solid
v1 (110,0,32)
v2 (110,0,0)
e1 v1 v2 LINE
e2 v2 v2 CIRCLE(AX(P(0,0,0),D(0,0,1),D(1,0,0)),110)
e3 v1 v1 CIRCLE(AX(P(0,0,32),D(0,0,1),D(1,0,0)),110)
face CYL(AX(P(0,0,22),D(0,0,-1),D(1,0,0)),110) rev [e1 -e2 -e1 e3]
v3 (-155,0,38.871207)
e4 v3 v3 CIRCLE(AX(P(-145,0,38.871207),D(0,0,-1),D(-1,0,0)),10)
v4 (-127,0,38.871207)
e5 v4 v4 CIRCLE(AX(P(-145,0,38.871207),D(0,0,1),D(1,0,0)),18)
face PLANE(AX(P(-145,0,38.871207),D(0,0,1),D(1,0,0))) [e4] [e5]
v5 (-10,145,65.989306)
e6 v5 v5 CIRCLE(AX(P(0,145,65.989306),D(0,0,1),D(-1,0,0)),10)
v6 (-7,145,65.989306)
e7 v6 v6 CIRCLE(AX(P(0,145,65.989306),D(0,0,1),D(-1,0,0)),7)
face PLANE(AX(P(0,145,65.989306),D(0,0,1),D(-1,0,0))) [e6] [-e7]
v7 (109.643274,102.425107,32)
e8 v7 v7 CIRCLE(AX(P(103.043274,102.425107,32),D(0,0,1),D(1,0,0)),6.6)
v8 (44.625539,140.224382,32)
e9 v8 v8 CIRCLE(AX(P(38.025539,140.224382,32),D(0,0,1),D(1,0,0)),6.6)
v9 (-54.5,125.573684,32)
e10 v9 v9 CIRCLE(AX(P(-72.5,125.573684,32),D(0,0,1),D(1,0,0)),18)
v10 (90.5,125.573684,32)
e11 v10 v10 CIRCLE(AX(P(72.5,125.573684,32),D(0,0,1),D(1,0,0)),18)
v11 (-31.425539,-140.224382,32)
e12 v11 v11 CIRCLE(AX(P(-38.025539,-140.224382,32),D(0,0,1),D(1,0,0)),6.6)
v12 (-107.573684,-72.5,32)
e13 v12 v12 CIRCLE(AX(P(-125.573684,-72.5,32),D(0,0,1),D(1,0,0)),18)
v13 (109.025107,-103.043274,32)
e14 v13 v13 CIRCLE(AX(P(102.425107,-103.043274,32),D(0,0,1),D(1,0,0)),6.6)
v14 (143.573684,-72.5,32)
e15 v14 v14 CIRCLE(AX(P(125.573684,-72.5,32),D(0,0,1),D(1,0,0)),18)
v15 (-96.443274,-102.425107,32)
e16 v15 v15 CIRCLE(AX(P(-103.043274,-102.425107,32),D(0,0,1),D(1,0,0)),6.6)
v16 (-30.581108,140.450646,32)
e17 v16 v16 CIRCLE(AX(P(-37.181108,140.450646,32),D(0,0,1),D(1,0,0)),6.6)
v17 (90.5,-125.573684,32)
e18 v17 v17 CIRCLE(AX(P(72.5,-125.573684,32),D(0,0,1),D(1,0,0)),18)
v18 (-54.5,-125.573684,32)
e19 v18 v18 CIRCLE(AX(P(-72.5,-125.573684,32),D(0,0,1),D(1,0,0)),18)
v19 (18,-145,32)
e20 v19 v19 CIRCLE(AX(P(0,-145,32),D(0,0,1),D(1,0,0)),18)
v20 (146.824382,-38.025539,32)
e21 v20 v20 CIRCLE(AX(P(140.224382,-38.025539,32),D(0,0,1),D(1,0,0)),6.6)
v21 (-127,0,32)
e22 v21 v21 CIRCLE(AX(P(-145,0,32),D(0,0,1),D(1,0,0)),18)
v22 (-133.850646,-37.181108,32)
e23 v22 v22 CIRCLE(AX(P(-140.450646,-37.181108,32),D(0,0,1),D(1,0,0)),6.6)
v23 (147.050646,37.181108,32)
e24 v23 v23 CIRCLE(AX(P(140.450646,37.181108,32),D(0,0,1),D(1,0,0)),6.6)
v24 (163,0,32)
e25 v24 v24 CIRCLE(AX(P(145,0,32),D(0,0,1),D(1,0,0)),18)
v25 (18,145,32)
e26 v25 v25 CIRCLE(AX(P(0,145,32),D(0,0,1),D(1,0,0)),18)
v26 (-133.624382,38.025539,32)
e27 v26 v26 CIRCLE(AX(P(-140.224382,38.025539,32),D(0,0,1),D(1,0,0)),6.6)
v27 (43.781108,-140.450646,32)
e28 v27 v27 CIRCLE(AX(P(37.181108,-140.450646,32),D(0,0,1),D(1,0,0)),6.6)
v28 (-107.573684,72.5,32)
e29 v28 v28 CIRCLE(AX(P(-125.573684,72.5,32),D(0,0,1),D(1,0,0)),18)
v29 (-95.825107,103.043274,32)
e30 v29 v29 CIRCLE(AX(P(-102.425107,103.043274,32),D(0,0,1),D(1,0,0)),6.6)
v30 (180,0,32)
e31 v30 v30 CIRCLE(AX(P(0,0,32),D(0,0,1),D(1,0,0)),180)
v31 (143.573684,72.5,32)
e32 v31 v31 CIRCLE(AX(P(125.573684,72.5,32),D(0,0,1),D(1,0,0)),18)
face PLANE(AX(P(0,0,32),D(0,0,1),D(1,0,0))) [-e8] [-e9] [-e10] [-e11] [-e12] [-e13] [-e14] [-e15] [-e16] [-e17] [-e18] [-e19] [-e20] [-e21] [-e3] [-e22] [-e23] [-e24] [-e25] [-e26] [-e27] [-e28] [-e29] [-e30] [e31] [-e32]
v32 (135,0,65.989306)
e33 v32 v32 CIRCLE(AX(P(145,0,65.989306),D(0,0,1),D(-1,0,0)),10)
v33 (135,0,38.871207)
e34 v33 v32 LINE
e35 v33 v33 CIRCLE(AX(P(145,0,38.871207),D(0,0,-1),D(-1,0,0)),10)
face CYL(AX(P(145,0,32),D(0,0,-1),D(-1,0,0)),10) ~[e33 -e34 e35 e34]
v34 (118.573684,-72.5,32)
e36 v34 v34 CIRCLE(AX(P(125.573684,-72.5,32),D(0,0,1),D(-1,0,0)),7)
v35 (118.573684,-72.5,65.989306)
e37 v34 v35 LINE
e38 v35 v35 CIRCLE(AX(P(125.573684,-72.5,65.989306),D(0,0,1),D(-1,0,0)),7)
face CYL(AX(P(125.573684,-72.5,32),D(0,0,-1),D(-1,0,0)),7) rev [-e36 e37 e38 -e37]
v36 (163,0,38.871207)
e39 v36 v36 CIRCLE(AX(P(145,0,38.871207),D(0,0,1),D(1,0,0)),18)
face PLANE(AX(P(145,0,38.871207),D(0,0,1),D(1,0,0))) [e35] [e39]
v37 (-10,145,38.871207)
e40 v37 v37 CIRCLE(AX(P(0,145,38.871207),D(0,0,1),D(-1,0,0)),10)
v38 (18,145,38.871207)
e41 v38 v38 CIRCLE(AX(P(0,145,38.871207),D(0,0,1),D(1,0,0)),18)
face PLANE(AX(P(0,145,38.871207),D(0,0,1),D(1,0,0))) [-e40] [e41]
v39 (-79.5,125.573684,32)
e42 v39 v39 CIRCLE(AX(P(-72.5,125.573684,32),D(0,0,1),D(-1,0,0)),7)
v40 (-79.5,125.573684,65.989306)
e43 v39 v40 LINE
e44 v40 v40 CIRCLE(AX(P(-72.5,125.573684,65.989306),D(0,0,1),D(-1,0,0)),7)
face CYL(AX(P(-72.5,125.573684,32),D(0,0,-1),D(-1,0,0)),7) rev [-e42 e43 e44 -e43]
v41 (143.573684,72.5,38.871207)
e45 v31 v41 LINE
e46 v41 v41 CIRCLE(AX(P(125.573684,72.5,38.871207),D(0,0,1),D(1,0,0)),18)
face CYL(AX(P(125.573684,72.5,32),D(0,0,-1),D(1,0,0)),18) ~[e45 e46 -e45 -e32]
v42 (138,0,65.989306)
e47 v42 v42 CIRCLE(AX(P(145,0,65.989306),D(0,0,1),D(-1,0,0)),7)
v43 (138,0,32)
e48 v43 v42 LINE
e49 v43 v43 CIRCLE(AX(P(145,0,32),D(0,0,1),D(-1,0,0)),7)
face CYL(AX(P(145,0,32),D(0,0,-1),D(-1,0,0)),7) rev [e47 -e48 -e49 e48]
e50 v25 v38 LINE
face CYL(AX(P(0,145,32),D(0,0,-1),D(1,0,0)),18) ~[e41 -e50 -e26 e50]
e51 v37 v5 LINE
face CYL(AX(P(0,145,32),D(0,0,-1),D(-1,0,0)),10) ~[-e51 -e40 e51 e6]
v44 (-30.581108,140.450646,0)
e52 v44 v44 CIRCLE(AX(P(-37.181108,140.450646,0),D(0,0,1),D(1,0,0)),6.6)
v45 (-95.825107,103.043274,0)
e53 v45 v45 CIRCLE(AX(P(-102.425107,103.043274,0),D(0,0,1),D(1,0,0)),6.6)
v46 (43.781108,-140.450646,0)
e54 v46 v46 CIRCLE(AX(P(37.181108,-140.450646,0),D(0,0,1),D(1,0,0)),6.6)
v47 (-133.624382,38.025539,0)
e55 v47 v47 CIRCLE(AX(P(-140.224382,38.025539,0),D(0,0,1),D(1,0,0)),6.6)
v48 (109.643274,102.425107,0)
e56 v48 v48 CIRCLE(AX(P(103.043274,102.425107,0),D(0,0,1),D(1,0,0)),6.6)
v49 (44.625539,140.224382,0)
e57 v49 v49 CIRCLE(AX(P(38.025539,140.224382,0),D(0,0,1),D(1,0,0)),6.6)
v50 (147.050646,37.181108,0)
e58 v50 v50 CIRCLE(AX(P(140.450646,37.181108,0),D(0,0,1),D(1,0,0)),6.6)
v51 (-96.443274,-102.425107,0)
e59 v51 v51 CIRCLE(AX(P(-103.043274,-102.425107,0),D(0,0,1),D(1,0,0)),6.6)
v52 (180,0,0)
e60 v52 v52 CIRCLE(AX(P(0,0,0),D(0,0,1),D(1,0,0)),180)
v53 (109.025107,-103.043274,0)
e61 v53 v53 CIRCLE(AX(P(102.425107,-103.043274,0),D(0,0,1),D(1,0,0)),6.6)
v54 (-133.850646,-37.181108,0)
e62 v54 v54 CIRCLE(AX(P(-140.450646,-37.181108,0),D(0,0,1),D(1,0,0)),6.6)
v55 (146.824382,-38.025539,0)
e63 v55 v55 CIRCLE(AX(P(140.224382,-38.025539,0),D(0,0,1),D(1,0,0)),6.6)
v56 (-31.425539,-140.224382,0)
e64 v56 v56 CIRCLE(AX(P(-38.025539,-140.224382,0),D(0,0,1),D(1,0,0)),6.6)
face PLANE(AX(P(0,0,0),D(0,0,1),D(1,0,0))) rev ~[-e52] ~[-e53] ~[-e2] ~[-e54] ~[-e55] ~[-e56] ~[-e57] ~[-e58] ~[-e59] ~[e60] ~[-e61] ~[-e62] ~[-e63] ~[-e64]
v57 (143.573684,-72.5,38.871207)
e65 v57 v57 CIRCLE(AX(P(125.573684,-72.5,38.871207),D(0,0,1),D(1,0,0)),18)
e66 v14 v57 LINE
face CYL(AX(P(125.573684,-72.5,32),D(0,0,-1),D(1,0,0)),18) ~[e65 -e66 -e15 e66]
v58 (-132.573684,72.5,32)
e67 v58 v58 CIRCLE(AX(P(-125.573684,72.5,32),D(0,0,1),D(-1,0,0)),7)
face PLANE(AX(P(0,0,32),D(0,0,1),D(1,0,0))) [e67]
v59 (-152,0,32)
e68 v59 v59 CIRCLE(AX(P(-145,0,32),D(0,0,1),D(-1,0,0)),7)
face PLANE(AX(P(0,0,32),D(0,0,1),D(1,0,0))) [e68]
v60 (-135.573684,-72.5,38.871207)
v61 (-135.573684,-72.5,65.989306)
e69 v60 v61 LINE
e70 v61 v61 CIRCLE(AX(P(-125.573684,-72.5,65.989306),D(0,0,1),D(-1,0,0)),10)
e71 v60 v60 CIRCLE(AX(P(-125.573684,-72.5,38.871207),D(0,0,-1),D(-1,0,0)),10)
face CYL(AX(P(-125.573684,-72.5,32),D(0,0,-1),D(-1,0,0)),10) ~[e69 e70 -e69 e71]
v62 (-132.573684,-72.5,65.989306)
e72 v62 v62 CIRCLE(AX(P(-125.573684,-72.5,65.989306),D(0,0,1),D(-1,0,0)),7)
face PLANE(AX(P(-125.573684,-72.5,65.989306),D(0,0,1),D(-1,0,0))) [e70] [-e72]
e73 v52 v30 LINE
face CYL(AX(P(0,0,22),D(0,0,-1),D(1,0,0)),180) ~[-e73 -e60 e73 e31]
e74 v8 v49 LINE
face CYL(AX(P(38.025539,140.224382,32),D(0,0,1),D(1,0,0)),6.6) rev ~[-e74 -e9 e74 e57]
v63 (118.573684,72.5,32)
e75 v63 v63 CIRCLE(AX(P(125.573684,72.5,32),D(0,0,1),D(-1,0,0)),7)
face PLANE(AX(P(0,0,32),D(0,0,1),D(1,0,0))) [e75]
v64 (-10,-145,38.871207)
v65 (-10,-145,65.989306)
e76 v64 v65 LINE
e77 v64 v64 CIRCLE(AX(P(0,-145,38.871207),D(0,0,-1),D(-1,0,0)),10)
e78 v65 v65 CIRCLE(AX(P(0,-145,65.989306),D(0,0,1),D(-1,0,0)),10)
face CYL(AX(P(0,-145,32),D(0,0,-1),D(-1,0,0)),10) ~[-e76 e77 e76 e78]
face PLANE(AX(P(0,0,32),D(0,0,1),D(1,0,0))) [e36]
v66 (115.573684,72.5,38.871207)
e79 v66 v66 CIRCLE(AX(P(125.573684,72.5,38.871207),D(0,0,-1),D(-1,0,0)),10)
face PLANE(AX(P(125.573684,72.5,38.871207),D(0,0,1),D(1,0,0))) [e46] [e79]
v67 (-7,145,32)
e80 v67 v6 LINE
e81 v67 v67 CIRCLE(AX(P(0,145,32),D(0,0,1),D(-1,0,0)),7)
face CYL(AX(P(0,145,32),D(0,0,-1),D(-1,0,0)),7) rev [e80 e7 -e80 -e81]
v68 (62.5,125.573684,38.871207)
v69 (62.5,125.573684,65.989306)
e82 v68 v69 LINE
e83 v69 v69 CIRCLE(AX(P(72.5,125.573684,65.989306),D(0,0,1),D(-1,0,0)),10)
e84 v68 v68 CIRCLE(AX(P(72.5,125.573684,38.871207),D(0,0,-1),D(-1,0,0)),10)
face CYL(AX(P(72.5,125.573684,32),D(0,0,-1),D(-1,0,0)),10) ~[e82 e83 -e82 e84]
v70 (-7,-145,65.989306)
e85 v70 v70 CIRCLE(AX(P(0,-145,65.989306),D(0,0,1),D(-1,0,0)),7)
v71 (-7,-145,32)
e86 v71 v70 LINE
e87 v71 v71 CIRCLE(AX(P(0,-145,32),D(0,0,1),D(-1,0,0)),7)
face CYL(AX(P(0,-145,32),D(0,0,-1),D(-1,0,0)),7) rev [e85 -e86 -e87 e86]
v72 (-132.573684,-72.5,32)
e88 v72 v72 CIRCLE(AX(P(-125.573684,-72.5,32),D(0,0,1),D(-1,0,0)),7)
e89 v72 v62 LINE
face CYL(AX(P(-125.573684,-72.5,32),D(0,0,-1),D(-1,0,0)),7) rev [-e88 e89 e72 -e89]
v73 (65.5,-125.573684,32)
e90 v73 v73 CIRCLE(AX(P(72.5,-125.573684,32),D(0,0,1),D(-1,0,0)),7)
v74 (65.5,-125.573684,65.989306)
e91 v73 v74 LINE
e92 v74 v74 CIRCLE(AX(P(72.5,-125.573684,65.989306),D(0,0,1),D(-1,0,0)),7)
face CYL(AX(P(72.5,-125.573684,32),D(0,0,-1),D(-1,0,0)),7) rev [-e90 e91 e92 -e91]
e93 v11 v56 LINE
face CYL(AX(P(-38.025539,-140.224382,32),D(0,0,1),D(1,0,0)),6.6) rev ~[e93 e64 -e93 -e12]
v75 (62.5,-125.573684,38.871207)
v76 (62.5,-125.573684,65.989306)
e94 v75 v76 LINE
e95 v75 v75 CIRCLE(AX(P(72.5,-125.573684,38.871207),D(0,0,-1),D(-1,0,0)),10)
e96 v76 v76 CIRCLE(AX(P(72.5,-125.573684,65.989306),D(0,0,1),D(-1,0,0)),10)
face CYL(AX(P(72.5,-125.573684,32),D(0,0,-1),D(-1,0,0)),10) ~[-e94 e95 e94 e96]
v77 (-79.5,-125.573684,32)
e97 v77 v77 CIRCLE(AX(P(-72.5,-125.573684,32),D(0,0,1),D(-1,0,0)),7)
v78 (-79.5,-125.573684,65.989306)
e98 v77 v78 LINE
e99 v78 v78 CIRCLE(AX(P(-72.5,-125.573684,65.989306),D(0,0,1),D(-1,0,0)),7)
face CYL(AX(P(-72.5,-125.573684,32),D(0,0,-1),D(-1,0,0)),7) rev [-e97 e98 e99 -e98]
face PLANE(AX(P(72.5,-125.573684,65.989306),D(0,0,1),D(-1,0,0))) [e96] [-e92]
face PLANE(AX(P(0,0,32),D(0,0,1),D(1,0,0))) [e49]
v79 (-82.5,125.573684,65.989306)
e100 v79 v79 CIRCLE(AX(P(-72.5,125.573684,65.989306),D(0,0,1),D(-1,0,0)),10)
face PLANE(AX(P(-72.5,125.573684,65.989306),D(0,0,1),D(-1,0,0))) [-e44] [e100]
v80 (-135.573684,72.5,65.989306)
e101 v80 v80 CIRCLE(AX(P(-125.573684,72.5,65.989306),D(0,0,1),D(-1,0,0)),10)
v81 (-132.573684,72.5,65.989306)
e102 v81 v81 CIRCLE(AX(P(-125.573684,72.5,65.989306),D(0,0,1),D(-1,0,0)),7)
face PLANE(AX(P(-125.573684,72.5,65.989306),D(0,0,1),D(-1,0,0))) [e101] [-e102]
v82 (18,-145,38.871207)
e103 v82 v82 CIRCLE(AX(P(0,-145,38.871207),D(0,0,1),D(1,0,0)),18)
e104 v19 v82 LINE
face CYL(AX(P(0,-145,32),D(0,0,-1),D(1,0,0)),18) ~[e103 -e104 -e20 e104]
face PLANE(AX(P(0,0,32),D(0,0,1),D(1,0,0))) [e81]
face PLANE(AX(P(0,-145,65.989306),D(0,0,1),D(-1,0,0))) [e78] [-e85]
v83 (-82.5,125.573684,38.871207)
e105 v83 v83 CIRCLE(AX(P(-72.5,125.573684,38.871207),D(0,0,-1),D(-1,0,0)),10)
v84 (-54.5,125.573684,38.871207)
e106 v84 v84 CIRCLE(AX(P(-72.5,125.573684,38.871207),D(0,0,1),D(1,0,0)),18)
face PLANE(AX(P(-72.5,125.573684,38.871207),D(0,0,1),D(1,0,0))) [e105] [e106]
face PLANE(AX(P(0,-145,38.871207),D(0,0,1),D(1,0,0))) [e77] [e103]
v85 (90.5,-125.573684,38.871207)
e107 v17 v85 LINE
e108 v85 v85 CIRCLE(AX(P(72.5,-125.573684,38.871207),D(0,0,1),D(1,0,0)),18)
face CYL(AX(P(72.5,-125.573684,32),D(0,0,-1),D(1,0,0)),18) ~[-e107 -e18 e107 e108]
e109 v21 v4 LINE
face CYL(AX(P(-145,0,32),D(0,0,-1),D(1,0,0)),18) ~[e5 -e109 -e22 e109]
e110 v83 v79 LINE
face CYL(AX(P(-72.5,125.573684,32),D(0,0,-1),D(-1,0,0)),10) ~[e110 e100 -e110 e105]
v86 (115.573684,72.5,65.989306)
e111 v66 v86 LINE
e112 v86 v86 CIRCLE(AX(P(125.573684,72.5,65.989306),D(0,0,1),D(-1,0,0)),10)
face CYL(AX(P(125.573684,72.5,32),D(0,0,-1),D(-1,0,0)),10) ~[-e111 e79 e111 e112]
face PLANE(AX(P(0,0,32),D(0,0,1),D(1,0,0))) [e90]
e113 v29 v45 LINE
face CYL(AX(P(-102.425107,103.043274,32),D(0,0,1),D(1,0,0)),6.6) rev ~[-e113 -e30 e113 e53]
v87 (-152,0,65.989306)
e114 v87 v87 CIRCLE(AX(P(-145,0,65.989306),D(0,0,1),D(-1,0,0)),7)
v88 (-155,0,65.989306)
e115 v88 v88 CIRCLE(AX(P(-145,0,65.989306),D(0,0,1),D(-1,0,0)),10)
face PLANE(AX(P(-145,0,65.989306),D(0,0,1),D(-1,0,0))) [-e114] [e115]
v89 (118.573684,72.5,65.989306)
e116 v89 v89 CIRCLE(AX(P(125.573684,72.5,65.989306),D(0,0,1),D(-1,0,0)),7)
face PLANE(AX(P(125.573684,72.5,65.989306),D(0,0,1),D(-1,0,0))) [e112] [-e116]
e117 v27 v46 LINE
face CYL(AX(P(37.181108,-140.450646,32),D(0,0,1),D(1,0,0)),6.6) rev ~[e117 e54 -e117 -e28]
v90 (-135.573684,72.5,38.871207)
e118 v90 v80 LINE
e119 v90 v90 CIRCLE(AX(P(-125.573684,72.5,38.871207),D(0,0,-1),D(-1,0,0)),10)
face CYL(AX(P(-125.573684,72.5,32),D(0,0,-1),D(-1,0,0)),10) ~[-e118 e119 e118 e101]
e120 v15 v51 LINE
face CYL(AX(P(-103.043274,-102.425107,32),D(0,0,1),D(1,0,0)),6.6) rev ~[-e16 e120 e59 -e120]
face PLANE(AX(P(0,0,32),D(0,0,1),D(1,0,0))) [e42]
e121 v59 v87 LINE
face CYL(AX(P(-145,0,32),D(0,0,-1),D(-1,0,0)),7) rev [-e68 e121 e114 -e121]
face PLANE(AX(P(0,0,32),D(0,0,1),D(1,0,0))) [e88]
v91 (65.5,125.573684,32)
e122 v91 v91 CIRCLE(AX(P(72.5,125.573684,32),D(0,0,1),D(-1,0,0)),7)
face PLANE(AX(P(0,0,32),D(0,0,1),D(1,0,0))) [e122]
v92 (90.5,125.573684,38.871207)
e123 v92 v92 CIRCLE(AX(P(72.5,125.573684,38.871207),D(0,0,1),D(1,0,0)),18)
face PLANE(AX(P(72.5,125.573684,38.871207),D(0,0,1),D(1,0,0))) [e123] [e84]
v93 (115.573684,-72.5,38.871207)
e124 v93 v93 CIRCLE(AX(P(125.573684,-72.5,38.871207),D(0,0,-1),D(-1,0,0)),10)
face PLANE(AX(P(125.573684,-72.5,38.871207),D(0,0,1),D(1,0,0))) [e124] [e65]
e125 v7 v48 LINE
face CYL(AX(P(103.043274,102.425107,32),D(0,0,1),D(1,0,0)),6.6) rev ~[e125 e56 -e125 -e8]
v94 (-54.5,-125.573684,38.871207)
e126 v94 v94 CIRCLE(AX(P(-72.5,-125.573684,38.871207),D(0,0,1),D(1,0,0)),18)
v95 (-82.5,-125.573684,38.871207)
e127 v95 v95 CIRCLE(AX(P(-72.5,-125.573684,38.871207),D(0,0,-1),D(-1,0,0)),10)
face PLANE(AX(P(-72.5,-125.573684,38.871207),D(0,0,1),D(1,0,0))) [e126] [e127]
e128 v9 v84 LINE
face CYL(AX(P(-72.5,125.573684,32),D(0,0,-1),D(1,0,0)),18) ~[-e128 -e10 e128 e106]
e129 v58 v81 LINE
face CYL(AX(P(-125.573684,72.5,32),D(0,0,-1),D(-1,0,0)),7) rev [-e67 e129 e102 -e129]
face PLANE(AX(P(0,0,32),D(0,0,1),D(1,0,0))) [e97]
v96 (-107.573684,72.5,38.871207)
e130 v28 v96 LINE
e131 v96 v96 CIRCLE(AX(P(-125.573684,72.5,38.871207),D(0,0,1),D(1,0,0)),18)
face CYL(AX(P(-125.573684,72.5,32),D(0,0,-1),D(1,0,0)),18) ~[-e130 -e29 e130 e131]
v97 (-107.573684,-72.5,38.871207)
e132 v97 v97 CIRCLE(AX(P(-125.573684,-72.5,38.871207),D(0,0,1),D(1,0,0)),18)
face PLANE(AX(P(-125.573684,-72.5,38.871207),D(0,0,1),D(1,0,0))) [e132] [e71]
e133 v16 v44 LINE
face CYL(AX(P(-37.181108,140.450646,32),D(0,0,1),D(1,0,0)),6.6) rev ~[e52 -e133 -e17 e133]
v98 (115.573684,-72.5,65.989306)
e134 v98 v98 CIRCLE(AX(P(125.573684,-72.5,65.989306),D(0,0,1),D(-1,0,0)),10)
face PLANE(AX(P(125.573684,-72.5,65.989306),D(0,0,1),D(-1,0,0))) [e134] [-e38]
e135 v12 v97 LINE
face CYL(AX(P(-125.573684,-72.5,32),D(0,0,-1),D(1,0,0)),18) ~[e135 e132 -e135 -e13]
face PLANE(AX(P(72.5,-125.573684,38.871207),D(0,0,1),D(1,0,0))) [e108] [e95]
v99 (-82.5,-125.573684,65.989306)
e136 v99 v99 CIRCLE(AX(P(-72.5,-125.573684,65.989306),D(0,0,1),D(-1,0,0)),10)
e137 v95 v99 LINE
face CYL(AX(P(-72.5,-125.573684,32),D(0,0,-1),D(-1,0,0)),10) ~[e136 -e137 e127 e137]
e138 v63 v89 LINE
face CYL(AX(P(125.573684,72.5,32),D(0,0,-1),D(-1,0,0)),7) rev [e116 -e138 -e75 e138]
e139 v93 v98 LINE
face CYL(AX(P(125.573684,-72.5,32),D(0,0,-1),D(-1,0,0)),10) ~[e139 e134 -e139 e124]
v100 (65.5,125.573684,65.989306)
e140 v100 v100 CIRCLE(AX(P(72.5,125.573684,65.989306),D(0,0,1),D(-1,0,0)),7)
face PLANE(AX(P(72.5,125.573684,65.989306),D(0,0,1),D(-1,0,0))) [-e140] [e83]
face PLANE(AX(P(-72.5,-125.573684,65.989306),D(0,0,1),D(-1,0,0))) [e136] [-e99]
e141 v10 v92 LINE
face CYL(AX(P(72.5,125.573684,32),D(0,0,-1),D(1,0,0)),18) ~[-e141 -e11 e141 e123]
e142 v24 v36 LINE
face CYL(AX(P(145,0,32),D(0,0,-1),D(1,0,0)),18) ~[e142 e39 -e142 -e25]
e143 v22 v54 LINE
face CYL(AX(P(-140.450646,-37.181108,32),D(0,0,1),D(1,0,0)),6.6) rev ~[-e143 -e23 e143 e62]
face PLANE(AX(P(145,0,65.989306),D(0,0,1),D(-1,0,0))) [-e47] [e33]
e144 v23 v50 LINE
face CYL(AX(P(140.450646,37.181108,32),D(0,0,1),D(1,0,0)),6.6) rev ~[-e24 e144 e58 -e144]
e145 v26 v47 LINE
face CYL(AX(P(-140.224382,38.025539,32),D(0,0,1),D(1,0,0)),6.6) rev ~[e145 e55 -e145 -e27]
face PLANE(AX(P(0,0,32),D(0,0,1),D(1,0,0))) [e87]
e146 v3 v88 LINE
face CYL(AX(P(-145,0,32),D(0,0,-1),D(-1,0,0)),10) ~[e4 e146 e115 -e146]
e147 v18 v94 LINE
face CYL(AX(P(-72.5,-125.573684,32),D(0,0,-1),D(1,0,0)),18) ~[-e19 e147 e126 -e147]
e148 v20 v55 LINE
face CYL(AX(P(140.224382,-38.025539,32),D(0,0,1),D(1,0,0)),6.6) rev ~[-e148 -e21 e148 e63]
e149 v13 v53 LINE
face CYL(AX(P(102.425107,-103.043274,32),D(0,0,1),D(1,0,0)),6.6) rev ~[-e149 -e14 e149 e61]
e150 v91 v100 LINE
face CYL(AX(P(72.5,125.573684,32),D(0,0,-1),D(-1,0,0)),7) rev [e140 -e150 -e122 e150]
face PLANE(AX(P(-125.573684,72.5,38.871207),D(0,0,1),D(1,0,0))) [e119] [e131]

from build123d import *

# Parameters (mm, degrees)
SKETCH1_R            = 180
SKETCH1_R_2          = 110
BOTTOM_ANNULUS_DEPTH = 10
SKETCH3_R            = 180
SKETCH3_R_2          = 110
ANNULUS_PLENUM_DEPTH = 12
SKETCH4_R            = 180
SKETCH4_R_2          = 110
TOP_ANNULUS_DEPTH    = 10
SKETCH8_R            = 6.6
CUT_EXTRUDE1_DEPTH   = 75
SKETCH6_R            = 18
SKETCH6_R_2          = 10
BOSS_EXTRUDE6_DEPTH  = 6.871206759
SKETCH10_R           = 10
SKETCH10_R_2         = 7
BOSS_EXTRUDE7_DEPTH  = 33.989306272


with BuildPart() as part:
    # Sketch1 → Bottom Annulus (new body)
    with BuildSketch(Plane.XY):
        Circle(SKETCH1_R)
        Circle(SKETCH1_R_2, mode=Mode.SUBTRACT)
    extrude(amount=BOTTOM_ANNULUS_DEPTH)

    # Sketch3 → Annulus Plenum (add)
    with BuildSketch(Plane.XY.offset(10)):
        Circle(SKETCH3_R)
        Circle(SKETCH3_R_2, mode=Mode.SUBTRACT)
    extrude(amount=ANNULUS_PLENUM_DEPTH)

    # Sketch4 → Top annulus (add)
    with BuildSketch(Plane.XY.offset(22)):
        Circle(SKETCH4_R)
        Circle(SKETCH4_R_2, mode=Mode.SUBTRACT)
    extrude(amount=TOP_ANNULUS_DEPTH)

    # Sketch8 → Cut-Extrude1 (cut)
    with BuildSketch(Plane.XY.offset(32)):
        with Locations((-37.181108248, 140.450646422)):
            Circle(SKETCH8_R)
        with Locations((38.025538928, 140.224381904)):
            Circle(SKETCH8_R)
        with Locations((103.043273656, 102.425107495)):
            Circle(SKETCH8_R)
        with Locations((140.450646422, 37.181108248)):
            Circle(SKETCH8_R)
        with Locations((140.224381904, -38.025538928)):
            Circle(SKETCH8_R)
        with Locations((102.425107495, -103.043273656)):
            Circle(SKETCH8_R)
        with Locations((37.181108248, -140.450646422)):
            Circle(SKETCH8_R)
        with Locations((-38.025538928, -140.224381904)):
            Circle(SKETCH8_R)
        with Locations((-103.043273656, -102.425107495)):
            Circle(SKETCH8_R)
        with Locations((-140.450646422, -37.181108248)):
            Circle(SKETCH8_R)
        with Locations((-140.224381904, 38.025538928)):
            Circle(SKETCH8_R)
        with Locations((-102.425107495, 103.043273656)):
            Circle(SKETCH8_R)
    extrude(amount=-CUT_EXTRUDE1_DEPTH, mode=Mode.SUBTRACT)

    # Sketch6 → Boss-Extrude6 (add)
    # profile 1 of 12: a face of its own
    with BuildSketch(Plane.XY.offset(32)):
        with Locations((0, 145)):
            Circle(SKETCH6_R)
        with Locations((0, 145)):
            Circle(SKETCH6_R_2, mode=Mode.SUBTRACT)
    # profile 2 of 12: a face of its own
    with BuildSketch(Plane.XY.offset(32)):
        with Locations((72.5, 125.573683549)):
            Circle(SKETCH6_R)
        with Locations((72.5, 125.573683549)):
            Circle(SKETCH6_R_2, mode=Mode.SUBTRACT)
    # profile 3 of 12: a face of its own
    with BuildSketch(Plane.XY.offset(32)):
        with Locations((125.573683549, 72.5)):
            Circle(SKETCH6_R)
        with Locations((125.573683549, 72.5)):
            Circle(SKETCH6_R_2, mode=Mode.SUBTRACT)
    # profile 4 of 12: a face of its own
    with BuildSketch(Plane.XY.offset(32)):
        with Locations((145, 0)):
            Circle(SKETCH6_R)
        with Locations((145, 0)):
            Circle(SKETCH6_R_2, mode=Mode.SUBTRACT)
    # profile 5 of 12: a face of its own
    with BuildSketch(Plane.XY.offset(32)):
        with Locations((125.573683549, -72.5)):
            Circle(SKETCH6_R)
        with Locations((125.573683549, -72.5)):
            Circle(SKETCH6_R_2, mode=Mode.SUBTRACT)
    # profile 6 of 12: a face of its own
    with BuildSketch(Plane.XY.offset(32)):
        with Locations((72.5, -125.573683549)):
            Circle(SKETCH6_R)
        with Locations((72.5, -125.573683549)):
            Circle(SKETCH6_R_2, mode=Mode.SUBTRACT)
    # profile 7 of 12: a face of its own
    with BuildSketch(Plane.XY.offset(32)):
        with Locations((0, -145)):
            Circle(SKETCH6_R)
        with Locations((0, -145)):
            Circle(SKETCH6_R_2, mode=Mode.SUBTRACT)
    # profile 8 of 12: a face of its own
    with BuildSketch(Plane.XY.offset(32)):
        with Locations((-72.5, -125.573683549)):
            Circle(SKETCH6_R)
        with Locations((-72.5, -125.573683549)):
            Circle(SKETCH6_R_2, mode=Mode.SUBTRACT)
    # profile 9 of 12: a face of its own
    with BuildSketch(Plane.XY.offset(32)):
        with Locations((-125.573683549, -72.5)):
            Circle(SKETCH6_R)
        with Locations((-125.573683549, -72.5)):
            Circle(SKETCH6_R_2, mode=Mode.SUBTRACT)
    # profile 10 of 12: a face of its own
    with BuildSketch(Plane.XY.offset(32)):
        with Locations((-145, 0)):
            Circle(SKETCH6_R)
        with Locations((-145, 0)):
            Circle(SKETCH6_R_2, mode=Mode.SUBTRACT)
    # profile 11 of 12: a face of its own
    with BuildSketch(Plane.XY.offset(32)):
        with Locations((-125.573683549, 72.5)):
            Circle(SKETCH6_R)
        with Locations((-125.573683549, 72.5)):
            Circle(SKETCH6_R_2, mode=Mode.SUBTRACT)
    # profile 12 of 12: a face of its own
    with BuildSketch(Plane.XY.offset(32)):
        with Locations((-72.5, 125.573683549)):
            Circle(SKETCH6_R)
        with Locations((-72.5, 125.573683549)):
            Circle(SKETCH6_R_2, mode=Mode.SUBTRACT)
    extrude(amount=BOSS_EXTRUDE6_DEPTH)

    # Sketch10 → Boss-Extrude7 (add)
    # profile 1 of 12: a face of its own
    with BuildSketch(Plane.XY.offset(32)):
        with Locations((0, 145)):
            Circle(SKETCH10_R)
        with Locations((0, 145)):
            Circle(SKETCH10_R_2, mode=Mode.SUBTRACT)
    # profile 2 of 12: a face of its own
    with BuildSketch(Plane.XY.offset(32)):
        with Locations((72.5, 125.573683549)):
            Circle(SKETCH10_R)
        with Locations((72.5, 125.573683549)):
            Circle(SKETCH10_R_2, mode=Mode.SUBTRACT)
    # profile 3 of 12: a face of its own
    with BuildSketch(Plane.XY.offset(32)):
        with Locations((125.573683549, 72.5)):
            Circle(SKETCH10_R)
        with Locations((125.573683549, 72.5)):
            Circle(SKETCH10_R_2, mode=Mode.SUBTRACT)
    # profile 4 of 12: a face of its own
    with BuildSketch(Plane.XY.offset(32)):
        with Locations((145, 0)):
            Circle(SKETCH10_R)
        with Locations((145, 0)):
            Circle(SKETCH10_R_2, mode=Mode.SUBTRACT)
    # profile 5 of 12: a face of its own
    with BuildSketch(Plane.XY.offset(32)):
        with Locations((125.573683549, -72.5)):
            Circle(SKETCH10_R)
        with Locations((125.573683549, -72.5)):
            Circle(SKETCH10_R_2, mode=Mode.SUBTRACT)
    # profile 6 of 12: a face of its own
    with BuildSketch(Plane.XY.offset(32)):
        with Locations((72.5, -125.573683549)):
            Circle(SKETCH10_R)
        with Locations((72.5, -125.573683549)):
            Circle(SKETCH10_R_2, mode=Mode.SUBTRACT)
    # profile 7 of 12: a face of its own
    with BuildSketch(Plane.XY.offset(32)):
        with Locations((0, -145)):
            Circle(SKETCH10_R)
        with Locations((0, -145)):
            Circle(SKETCH10_R_2, mode=Mode.SUBTRACT)
    # profile 8 of 12: a face of its own
    with BuildSketch(Plane.XY.offset(32)):
        with Locations((-72.5, -125.573683549)):
            Circle(SKETCH10_R)
        with Locations((-72.5, -125.573683549)):
            Circle(SKETCH10_R_2, mode=Mode.SUBTRACT)
    # profile 9 of 12: a face of its own
    with BuildSketch(Plane.XY.offset(32)):
        with Locations((-125.573683549, -72.5)):
            Circle(SKETCH10_R)
        with Locations((-125.573683549, -72.5)):
            Circle(SKETCH10_R_2, mode=Mode.SUBTRACT)
    # profile 10 of 12: a face of its own
    with BuildSketch(Plane.XY.offset(32)):
        with Locations((-145, 0)):
            Circle(SKETCH10_R)
        with Locations((-145, 0)):
            Circle(SKETCH10_R_2, mode=Mode.SUBTRACT)
    # profile 11 of 12: a face of its own
    with BuildSketch(Plane.XY.offset(32)):
        with Locations((-125.573683549, 72.5)):
            Circle(SKETCH10_R)
        with Locations((-125.573683549, 72.5)):
            Circle(SKETCH10_R_2, mode=Mode.SUBTRACT)
    # profile 12 of 12: a face of its own
    with BuildSketch(Plane.XY.offset(32)):
        with Locations((-72.5, 125.573683549)):
            Circle(SKETCH10_R)
        with Locations((-72.5, 125.573683549)):
            Circle(SKETCH10_R_2, mode=Mode.SUBTRACT)
    extrude(amount=BOSS_EXTRUDE7_DEPTH)


solid = part.part
